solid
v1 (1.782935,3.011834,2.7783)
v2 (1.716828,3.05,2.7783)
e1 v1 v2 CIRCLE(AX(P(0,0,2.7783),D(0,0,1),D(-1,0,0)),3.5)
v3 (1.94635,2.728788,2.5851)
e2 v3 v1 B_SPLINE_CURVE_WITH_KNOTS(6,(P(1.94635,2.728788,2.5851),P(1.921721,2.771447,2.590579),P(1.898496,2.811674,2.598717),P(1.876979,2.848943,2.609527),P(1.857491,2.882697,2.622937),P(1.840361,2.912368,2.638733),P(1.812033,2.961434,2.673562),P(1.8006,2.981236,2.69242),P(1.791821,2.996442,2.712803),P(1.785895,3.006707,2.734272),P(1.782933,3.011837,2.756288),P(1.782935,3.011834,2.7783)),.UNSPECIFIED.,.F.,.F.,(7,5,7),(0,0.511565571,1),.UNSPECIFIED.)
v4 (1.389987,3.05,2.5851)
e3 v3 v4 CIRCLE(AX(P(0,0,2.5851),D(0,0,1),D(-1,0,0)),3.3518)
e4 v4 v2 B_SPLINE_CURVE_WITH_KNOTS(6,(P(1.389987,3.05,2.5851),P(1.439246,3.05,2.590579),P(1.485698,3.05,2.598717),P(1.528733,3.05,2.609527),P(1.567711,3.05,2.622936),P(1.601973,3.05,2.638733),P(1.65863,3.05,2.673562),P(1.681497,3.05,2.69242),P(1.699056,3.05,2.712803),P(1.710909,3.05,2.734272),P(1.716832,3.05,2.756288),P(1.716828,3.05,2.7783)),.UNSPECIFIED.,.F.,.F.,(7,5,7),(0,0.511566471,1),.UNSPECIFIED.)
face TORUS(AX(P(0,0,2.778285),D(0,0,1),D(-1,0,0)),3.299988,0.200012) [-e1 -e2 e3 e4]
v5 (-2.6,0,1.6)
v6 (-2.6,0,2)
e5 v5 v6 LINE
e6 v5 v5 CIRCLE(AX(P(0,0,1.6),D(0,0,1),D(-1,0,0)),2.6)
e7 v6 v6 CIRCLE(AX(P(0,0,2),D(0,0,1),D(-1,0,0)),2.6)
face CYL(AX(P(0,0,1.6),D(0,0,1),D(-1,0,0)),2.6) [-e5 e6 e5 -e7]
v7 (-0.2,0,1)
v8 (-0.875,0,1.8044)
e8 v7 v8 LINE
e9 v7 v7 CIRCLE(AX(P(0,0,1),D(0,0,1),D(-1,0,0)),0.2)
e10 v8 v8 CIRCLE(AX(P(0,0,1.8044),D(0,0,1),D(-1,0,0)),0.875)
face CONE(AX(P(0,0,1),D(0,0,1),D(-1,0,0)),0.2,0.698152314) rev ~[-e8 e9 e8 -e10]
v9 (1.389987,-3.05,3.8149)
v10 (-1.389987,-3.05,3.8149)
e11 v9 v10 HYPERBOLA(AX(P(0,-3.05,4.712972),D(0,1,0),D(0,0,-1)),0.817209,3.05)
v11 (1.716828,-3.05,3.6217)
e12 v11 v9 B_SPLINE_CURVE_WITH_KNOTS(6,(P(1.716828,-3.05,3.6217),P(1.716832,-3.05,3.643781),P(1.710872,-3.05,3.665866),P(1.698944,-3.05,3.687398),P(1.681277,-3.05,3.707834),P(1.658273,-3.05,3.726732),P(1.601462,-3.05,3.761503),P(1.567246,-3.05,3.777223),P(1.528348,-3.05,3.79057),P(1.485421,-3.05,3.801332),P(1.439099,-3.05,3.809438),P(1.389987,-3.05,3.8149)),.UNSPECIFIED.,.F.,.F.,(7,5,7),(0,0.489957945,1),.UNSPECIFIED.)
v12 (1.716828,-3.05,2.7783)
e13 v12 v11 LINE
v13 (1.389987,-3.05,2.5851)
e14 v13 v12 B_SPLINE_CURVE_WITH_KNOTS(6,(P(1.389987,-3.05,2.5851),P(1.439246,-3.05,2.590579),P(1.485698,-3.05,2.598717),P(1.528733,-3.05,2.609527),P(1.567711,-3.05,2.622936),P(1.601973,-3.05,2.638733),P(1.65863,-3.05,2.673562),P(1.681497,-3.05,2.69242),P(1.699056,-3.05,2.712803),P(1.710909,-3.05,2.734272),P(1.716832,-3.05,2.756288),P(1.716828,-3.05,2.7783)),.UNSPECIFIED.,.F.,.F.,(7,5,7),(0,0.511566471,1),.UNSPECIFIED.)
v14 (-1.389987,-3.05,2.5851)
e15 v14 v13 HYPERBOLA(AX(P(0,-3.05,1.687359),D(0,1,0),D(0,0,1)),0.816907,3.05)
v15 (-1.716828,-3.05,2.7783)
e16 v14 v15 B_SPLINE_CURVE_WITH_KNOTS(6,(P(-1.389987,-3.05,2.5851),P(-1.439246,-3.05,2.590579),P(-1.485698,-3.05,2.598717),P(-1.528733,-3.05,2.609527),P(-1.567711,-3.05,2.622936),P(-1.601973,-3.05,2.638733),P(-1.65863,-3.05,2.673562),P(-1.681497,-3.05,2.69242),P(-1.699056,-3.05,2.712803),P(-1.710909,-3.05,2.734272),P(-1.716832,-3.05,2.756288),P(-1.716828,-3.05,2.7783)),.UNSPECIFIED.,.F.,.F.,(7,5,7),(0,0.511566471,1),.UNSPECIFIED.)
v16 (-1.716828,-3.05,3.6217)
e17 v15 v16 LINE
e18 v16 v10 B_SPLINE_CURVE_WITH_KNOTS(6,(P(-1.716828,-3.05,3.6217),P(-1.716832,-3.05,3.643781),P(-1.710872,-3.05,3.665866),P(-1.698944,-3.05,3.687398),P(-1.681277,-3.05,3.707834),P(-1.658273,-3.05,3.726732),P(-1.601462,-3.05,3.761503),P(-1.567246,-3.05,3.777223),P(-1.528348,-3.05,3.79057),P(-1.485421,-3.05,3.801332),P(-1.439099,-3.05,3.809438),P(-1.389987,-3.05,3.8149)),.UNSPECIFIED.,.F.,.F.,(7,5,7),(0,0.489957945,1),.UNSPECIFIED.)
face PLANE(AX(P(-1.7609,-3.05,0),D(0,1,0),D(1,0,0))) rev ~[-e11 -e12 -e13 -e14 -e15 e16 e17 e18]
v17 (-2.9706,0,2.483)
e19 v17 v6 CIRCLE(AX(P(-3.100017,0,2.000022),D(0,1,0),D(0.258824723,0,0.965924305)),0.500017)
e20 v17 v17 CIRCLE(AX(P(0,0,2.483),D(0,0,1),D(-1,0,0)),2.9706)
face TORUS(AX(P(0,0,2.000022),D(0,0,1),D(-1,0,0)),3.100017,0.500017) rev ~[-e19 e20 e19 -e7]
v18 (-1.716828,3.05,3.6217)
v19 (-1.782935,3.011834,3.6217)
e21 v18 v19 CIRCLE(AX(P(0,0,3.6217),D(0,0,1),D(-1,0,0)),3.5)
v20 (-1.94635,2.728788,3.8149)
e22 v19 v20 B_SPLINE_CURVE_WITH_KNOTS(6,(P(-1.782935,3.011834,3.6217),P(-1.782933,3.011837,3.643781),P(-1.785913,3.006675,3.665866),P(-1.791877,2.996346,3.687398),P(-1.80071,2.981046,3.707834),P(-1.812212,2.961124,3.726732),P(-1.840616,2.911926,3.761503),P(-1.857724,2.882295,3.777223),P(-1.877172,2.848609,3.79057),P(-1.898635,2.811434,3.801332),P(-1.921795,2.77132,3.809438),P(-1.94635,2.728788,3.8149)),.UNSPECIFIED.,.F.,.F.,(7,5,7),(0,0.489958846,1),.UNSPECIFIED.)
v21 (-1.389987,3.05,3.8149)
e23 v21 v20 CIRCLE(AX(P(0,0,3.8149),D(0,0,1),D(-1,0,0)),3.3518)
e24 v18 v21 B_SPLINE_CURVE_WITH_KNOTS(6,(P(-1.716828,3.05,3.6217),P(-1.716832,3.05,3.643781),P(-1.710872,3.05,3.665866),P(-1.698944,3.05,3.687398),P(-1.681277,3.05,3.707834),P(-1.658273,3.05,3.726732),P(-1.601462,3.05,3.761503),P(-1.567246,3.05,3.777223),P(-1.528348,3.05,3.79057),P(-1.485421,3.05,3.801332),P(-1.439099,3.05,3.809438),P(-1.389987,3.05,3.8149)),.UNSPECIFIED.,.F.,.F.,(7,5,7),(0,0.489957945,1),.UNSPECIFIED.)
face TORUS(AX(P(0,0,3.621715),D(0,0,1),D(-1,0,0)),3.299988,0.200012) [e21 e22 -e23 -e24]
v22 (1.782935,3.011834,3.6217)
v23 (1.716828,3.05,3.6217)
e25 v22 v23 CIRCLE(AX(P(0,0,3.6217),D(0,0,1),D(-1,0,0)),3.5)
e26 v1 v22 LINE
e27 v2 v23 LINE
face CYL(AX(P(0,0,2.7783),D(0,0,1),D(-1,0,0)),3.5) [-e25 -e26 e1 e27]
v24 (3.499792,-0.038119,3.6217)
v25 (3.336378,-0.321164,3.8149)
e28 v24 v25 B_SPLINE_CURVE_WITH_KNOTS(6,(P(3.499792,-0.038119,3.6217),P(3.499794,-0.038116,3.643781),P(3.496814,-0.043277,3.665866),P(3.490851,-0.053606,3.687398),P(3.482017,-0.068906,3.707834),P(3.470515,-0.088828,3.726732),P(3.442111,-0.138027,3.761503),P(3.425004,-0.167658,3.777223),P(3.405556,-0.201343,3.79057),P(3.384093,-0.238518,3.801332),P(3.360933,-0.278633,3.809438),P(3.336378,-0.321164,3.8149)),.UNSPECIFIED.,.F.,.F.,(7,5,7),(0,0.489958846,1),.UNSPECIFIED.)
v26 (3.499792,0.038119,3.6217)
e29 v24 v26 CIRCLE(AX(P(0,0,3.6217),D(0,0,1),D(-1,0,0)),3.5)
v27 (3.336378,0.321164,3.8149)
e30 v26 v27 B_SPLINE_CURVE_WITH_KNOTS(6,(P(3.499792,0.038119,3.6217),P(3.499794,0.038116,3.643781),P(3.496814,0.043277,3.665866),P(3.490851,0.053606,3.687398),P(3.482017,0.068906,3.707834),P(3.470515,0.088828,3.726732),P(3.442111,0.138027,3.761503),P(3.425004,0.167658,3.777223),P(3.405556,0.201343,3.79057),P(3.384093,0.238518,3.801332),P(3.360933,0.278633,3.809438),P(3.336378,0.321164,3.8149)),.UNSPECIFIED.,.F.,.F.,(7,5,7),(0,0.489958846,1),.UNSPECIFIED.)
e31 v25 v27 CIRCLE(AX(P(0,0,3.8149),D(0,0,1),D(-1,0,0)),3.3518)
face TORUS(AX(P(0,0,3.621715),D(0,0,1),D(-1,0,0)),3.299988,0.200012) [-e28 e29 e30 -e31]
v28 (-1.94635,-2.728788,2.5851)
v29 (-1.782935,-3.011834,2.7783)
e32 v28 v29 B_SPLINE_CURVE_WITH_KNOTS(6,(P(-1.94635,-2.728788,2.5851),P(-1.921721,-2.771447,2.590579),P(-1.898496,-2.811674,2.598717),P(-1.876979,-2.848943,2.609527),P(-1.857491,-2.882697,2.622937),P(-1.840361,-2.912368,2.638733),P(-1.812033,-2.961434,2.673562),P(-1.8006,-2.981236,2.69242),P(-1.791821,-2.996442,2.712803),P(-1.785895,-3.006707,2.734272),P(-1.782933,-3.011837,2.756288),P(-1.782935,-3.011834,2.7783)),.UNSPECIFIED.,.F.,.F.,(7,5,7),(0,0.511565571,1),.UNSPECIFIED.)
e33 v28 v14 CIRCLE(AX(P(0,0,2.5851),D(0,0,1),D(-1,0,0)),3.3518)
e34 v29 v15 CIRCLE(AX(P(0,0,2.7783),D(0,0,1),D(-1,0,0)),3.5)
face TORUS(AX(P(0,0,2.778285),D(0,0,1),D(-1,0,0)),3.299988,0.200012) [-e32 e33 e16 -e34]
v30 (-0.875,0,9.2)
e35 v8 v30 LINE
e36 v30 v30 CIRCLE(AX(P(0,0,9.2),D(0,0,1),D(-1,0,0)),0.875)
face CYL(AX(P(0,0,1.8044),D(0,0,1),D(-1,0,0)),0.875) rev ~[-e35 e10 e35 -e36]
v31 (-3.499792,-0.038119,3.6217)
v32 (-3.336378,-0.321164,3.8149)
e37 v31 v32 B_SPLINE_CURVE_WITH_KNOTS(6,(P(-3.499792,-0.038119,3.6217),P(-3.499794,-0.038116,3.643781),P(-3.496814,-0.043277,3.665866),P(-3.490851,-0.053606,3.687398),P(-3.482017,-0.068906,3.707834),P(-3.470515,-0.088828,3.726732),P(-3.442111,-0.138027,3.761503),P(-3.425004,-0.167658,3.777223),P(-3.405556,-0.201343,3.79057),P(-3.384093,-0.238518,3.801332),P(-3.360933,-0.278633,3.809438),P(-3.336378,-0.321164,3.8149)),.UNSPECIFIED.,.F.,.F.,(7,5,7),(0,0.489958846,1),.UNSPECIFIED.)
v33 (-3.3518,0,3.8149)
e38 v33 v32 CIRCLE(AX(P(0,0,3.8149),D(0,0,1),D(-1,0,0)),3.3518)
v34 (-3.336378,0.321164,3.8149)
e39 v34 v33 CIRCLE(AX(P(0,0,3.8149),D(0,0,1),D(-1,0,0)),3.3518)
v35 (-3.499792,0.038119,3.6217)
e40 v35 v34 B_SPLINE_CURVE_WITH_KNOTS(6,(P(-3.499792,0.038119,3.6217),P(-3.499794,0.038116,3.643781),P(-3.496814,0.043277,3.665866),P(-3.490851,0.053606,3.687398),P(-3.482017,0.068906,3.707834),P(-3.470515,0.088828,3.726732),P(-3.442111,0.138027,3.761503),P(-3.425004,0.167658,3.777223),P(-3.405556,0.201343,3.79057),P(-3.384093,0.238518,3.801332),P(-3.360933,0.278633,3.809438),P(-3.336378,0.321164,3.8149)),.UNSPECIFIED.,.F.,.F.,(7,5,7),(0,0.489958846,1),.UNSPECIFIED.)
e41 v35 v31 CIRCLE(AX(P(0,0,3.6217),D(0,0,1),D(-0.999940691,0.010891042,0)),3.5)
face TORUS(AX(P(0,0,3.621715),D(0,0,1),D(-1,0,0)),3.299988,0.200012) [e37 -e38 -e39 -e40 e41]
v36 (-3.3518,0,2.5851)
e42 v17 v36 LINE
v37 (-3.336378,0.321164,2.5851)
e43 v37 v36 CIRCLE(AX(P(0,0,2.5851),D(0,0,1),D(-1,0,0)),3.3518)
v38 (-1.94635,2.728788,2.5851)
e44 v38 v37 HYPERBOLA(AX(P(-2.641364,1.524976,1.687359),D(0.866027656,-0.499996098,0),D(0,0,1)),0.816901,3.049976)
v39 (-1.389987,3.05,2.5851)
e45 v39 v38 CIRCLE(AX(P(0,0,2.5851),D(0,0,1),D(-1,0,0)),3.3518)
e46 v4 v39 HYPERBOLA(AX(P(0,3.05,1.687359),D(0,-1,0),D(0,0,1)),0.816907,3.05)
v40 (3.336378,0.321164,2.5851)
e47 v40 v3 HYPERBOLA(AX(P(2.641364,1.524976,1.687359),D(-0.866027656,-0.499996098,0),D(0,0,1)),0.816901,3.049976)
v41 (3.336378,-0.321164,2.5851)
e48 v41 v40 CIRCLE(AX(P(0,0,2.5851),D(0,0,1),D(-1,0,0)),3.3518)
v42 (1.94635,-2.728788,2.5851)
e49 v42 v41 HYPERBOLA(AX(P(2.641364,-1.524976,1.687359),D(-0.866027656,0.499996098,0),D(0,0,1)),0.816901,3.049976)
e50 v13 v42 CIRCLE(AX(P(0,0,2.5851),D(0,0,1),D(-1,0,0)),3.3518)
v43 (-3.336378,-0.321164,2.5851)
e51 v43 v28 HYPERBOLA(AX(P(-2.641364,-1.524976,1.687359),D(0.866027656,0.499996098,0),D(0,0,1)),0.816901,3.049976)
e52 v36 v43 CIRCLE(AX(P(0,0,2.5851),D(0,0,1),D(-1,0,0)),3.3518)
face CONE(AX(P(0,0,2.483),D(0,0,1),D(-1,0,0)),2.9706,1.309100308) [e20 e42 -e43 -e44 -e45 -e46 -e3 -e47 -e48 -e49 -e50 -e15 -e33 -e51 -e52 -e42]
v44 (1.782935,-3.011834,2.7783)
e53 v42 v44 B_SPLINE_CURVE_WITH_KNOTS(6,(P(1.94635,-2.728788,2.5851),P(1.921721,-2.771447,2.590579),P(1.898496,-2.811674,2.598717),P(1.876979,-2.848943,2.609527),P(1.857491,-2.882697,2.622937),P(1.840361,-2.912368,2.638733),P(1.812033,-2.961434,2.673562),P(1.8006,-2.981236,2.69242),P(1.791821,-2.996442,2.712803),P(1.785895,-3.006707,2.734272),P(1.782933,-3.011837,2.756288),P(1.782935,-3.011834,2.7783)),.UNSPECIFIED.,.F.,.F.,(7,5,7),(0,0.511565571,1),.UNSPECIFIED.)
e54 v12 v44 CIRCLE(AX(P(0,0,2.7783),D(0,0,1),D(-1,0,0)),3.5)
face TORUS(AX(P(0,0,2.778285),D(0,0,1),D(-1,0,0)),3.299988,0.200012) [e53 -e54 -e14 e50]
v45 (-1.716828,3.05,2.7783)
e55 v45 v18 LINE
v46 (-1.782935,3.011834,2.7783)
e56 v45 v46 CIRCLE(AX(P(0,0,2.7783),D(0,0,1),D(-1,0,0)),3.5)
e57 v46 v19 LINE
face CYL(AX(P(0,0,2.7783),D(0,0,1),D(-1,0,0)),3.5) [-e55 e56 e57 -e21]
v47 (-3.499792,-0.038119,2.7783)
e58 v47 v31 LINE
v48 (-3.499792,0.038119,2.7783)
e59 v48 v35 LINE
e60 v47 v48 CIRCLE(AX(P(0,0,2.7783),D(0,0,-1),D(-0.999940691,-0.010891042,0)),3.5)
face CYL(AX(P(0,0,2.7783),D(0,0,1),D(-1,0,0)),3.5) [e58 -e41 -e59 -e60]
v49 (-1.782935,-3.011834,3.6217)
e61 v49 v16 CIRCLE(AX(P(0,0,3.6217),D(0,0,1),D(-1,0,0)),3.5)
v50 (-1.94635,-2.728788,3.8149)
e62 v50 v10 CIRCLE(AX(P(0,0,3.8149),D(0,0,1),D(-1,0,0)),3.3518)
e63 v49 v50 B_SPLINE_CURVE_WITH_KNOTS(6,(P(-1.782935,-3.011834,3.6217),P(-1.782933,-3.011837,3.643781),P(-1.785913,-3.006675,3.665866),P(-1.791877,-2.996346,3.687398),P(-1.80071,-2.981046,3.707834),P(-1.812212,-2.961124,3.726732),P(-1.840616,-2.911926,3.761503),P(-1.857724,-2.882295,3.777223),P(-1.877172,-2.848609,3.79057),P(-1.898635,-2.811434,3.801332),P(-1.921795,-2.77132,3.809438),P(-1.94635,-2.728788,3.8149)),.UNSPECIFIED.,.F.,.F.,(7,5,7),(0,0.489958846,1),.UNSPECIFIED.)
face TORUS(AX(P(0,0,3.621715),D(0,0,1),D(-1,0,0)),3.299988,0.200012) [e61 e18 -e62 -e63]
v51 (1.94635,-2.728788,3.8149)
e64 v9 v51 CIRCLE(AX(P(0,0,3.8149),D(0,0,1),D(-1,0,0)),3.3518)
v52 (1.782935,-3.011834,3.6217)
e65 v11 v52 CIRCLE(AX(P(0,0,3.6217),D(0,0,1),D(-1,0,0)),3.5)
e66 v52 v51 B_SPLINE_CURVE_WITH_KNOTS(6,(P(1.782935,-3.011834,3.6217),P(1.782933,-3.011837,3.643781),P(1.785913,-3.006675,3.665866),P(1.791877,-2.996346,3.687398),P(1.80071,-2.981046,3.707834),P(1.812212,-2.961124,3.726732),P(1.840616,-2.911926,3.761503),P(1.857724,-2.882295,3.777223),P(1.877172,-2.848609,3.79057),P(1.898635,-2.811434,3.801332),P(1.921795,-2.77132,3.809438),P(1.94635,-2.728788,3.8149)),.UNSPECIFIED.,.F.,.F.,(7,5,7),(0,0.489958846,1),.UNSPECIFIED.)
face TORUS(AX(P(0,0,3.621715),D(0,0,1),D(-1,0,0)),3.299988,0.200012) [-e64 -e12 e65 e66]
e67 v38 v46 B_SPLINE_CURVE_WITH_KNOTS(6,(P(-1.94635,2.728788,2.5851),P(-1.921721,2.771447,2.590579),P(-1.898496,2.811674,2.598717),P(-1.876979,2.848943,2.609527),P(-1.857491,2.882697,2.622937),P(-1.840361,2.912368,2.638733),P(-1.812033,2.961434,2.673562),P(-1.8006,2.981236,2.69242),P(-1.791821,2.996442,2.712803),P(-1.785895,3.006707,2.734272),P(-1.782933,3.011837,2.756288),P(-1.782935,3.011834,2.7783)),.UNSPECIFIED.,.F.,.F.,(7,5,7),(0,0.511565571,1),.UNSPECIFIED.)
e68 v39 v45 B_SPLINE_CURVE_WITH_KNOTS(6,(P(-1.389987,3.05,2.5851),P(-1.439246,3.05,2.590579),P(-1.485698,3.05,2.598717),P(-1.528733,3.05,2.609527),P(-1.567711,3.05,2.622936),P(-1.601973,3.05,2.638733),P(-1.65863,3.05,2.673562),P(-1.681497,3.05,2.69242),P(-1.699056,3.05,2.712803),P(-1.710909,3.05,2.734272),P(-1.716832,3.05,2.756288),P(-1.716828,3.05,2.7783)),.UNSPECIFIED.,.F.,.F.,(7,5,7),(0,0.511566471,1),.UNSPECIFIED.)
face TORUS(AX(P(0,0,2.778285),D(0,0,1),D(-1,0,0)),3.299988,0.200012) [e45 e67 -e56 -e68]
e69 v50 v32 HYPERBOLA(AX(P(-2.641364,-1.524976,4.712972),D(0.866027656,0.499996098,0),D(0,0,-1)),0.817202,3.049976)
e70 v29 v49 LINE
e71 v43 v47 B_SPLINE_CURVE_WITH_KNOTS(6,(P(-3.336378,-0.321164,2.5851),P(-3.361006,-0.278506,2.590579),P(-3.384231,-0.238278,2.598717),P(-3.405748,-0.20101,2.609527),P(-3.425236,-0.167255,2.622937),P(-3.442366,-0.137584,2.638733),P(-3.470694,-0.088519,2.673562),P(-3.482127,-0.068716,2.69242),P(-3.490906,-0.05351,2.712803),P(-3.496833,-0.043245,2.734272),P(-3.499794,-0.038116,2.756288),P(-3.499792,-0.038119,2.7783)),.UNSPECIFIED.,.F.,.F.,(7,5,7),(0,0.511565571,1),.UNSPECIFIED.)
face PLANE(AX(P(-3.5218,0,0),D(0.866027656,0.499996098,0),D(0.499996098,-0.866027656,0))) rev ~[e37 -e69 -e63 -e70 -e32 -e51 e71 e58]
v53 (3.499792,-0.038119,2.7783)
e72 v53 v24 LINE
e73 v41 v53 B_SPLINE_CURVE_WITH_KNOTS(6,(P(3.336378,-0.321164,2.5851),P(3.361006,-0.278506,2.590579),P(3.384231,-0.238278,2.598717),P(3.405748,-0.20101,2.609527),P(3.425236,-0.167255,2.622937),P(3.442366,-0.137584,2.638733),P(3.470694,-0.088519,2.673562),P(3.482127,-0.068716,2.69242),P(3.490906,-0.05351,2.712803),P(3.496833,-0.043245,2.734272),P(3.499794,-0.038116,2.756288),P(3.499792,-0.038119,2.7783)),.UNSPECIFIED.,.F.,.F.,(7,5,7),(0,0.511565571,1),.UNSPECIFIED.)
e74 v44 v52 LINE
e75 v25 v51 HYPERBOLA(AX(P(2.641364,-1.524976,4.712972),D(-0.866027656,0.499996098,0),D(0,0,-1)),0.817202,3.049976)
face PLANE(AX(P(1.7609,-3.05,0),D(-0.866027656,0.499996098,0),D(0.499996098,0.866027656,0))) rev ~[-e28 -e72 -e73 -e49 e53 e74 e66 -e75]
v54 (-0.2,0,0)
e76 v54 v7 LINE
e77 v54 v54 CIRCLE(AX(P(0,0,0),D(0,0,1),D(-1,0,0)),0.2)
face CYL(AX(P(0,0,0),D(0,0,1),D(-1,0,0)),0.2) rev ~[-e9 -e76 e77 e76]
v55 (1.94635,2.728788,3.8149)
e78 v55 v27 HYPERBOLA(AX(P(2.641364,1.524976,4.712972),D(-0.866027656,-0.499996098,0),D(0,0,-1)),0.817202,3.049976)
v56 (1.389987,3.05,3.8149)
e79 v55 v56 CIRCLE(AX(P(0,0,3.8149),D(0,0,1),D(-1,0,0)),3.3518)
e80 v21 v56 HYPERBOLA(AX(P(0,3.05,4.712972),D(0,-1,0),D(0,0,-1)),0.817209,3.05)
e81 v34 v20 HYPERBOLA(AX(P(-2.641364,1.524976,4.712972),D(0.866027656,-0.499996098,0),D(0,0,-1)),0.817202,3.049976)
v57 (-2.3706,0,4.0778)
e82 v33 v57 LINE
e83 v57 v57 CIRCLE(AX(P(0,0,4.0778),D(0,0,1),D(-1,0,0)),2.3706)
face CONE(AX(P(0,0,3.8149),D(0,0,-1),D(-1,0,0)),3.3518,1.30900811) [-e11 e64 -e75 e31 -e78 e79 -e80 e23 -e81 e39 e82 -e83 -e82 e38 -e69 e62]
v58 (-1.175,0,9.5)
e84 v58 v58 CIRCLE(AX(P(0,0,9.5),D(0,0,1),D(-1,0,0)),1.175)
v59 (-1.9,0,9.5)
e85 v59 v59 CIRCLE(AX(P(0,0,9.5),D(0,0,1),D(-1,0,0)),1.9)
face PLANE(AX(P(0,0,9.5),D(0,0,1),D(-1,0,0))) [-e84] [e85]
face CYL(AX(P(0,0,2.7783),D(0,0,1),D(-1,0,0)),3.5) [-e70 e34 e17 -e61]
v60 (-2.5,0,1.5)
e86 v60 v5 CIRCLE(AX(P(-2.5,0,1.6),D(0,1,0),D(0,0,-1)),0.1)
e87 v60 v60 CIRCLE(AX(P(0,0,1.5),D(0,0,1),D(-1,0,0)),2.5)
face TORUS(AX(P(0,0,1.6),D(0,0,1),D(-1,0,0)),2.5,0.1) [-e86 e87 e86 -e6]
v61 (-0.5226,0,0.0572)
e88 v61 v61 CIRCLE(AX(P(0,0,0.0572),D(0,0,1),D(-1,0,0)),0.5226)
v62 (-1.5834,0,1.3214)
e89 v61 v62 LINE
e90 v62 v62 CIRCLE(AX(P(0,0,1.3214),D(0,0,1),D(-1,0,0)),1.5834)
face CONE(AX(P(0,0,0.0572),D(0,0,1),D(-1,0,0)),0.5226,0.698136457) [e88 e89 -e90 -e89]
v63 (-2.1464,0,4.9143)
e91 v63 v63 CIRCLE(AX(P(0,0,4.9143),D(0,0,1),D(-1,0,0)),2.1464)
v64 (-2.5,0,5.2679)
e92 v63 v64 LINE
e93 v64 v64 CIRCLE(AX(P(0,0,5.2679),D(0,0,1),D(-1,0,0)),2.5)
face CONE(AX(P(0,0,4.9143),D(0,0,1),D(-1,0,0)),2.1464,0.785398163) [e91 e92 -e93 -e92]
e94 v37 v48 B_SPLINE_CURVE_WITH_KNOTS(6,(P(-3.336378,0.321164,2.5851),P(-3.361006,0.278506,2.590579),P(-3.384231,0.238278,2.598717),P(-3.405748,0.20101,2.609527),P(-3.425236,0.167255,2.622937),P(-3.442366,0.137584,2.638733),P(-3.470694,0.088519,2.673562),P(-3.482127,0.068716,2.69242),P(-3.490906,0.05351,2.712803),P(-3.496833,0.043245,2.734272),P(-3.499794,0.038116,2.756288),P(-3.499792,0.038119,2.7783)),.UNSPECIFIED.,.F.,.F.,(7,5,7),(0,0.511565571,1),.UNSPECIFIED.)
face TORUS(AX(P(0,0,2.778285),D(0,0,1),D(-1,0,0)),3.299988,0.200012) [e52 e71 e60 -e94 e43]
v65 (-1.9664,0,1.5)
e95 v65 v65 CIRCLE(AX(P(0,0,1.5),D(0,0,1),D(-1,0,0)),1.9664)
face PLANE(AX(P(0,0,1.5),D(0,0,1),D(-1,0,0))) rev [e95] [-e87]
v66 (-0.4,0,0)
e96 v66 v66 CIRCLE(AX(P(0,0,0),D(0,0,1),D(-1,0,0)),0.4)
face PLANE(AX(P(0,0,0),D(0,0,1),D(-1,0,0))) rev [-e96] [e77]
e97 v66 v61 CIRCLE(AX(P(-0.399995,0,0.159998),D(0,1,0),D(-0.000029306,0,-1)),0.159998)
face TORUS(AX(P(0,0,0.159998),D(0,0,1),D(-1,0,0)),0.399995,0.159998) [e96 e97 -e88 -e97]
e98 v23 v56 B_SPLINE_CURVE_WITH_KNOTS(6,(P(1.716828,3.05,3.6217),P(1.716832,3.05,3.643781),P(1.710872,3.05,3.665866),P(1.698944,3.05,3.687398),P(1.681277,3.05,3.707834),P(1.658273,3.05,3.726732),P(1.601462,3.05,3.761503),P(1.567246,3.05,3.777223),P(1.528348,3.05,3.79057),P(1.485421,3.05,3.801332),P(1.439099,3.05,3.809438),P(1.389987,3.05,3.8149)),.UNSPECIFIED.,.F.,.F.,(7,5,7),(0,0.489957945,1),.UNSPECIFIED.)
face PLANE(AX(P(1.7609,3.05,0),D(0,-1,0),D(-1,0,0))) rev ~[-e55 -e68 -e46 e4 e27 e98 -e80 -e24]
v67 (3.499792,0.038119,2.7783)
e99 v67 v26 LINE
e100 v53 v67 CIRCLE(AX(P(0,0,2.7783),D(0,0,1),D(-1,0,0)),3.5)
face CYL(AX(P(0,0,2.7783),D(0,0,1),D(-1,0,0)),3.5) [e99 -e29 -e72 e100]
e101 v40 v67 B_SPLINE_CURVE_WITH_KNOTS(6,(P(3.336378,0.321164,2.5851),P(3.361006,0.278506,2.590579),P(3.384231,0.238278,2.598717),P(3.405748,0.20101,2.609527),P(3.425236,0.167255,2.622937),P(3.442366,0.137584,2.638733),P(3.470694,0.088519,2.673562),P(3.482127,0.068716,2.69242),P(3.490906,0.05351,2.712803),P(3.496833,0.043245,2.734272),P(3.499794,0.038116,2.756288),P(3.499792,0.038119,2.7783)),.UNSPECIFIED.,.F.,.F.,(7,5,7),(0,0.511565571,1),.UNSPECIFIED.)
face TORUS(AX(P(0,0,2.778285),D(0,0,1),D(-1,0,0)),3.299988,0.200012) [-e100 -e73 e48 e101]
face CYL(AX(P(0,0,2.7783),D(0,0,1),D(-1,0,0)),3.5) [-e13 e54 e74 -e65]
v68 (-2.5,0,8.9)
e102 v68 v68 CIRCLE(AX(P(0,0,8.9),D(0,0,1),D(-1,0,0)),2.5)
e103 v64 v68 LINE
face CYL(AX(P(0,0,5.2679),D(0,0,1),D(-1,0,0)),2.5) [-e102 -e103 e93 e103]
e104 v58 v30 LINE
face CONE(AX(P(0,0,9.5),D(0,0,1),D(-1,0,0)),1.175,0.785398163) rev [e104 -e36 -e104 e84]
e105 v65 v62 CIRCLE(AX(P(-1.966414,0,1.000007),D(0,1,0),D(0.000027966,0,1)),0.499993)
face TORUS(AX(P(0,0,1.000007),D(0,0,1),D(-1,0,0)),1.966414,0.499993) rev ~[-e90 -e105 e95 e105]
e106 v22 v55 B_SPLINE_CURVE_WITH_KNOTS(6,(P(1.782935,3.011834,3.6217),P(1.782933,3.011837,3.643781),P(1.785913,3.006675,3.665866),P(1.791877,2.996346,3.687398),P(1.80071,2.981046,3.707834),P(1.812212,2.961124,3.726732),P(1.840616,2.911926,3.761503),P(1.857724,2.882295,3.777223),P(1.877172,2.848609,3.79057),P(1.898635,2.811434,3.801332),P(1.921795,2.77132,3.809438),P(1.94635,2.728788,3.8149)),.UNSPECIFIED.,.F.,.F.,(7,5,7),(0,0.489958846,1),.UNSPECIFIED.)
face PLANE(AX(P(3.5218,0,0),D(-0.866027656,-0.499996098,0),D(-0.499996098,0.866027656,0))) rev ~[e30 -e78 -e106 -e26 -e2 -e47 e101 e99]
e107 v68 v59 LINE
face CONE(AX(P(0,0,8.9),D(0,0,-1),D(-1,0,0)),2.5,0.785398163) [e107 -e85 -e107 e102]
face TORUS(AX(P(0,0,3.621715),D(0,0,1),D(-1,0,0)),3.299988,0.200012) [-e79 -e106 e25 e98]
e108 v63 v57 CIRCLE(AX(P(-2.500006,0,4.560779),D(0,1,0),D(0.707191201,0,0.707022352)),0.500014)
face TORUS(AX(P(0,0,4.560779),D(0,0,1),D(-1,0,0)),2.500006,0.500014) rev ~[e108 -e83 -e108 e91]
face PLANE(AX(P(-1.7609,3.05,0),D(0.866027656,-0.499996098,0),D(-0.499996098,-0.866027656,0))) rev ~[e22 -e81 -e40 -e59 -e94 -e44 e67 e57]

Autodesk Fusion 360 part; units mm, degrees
sketch "Revolve Sketch" plane through (0, 0, 0) normal (0, 1, 0) x (1, 0, 0)
  line L0 (-0.2, 0) -> (-0.4, 0)
  arc A0 (-0.4, 0) -> (-0.5226, -0.0572) centre (-0.4, -0.16) ccw
  line L1 (-0.5226, -0.0572) -> (-1.5834, -1.3214)
  arc A1 (-1.9664, -1.5) -> (-1.5834, -1.3214) centre (-1.9664, -1) ccw
  line L2 (-1.9664, -1.5) -> (-2.5, -1.5)
  arc A2 (-2.5, -1.5) -> (-2.6, -1.6) centre (-2.5, -1.6) ccw
  line L3 (-2.6, -1.6) -> (-2.6, -2)
  arc A3 (-2.9706, -2.483) -> (-2.6, -2) centre (-3.1, -2) ccw
  line L4 (-2.9706, -2.483) -> (-3.3518, -2.5851)
  arc A4 (-3.5, -3.6217) -> (-3.3518, -3.8149) centre (-3.3, -3.6217) ccw
  line L5 (-3.3518, -3.8149) -> (-2.3706, -4.0778)
  arc A5 (-3.3518, -2.5851) -> (-3.5, -2.7783) centre (-3.3, -2.7783) ccw
  line L6 (-3.5, -2.7783) -> (-3.5, -3.6217)
  line L7 (-0.2, 0) -> (-0.2, -1)
  line L8 (-0.2, -1) -> (-0.875, -1.8044)
  line L9 (-0.875, -1.8044) -> (-0.875, -9.5)
  line L10 (0, 0) -> (0, -9.5) construction
  arc A6 (-2.1464, -4.9143) -> (-2.3706, -4.0778) centre (-2.5, -4.5608) ccw
  line L11 (-2.1464, -4.9143) -> (-2.5, -5.2679)
  line L12 (-2.5, -5.2679) -> (-2.5, -8.9)
  line L13 (-2.5, -8.9) -> (-1.9, -9.5)
  line L14 (-1.9, -9.5) -> (-1.175, -9.5)
  line L15 (2.5, -11.5) -> (4.5, -11.5)
  line L16 (4.5, -11.5) -> (4.5, -4.5608)
  line L17 (4.5, -4.5608) -> (2.5, -4.5608)
  line L18 (2.5, -4.5608) -> (2.5, -11.5)
  line L19 (-1.175, -9.5) -> (-0.875, -9.2)
  point P0 (-5.6466, -3.2)
  dimension "d1" = 7
  dimension "d2" = 0.2
  dimension "d3" = 0.5
  dimension "d4" = 0.1
  dimension "d5" = 0.5
  dimension "d6" = 0.16
  dimension "d7" = 0.4
  dimension "d8" = 0.2
  dimension "d9" = 40
  dimension "d10" = 1.5
  dimension "d11" = 5.2
  dimension "d12" = 2
  dimension "d13" = 15
  dimension "d14" = 30
  dimension "d15" = 3.2
  dimension "d16" = 0.5
  dimension "d17" = 2
  dimension "d18" = 1.75
  dimension "d19" = 1
  dimension "d20" = 40
  dimension "d21" = 3.8
  dimension "d22" = 9.5
  dimension "d23" = 45
  dimension "d24" = 5
  dimension "d25" = 60
  dimension "d30" = 2
  dimension "d31" = 2
  dimension "d36" = 45
  dimension "d37" = 0.3
revolve "Revolve1" add sketch "Revolve Sketch" angle 360 about axis through (0, 0, 0) along (0, 0, 1) contours L0 A0 L1 A1 L2 A2 L3 A3 L4 A4 L5 A5 L6 L7 L8 L9 A6 L11 L12 L13 L14 L19
sketch "Hex Cut" plane through (0, 0, 0) normal (0, 0, 1) x (1, 0, 0)
  circle A0 centre (0, 0) radius 5
  line L0 (1.7609, -3.05) -> (3.5218, 0)
  line L1 (3.5218, 0) -> (1.7609, 3.05)
  line L2 (1.7609, 3.05) -> (-1.7609, 3.05)
  line L3 (-1.7609, 3.05) -> (-3.5218, 0)
  line L4 (-3.5218, 0) -> (-1.7609, -3.05)
  line L5 (-1.7609, -3.05) -> (1.7609, -3.05)
  dimension "d27" = 10
  dimension "d28" = 6.1
extrude "Extrude1" cut sketch "Hex Cut" along normal through all
equation "d6 = 0.4 * NozzleDiameter"
equation "d7 = NozzleDiameter"
equation "d8 = d7 * 0.5"
equation "d17 = ( 4 / 2 ) * 1 mm"
equation "NozzleDiameter = 0.4 mm"
